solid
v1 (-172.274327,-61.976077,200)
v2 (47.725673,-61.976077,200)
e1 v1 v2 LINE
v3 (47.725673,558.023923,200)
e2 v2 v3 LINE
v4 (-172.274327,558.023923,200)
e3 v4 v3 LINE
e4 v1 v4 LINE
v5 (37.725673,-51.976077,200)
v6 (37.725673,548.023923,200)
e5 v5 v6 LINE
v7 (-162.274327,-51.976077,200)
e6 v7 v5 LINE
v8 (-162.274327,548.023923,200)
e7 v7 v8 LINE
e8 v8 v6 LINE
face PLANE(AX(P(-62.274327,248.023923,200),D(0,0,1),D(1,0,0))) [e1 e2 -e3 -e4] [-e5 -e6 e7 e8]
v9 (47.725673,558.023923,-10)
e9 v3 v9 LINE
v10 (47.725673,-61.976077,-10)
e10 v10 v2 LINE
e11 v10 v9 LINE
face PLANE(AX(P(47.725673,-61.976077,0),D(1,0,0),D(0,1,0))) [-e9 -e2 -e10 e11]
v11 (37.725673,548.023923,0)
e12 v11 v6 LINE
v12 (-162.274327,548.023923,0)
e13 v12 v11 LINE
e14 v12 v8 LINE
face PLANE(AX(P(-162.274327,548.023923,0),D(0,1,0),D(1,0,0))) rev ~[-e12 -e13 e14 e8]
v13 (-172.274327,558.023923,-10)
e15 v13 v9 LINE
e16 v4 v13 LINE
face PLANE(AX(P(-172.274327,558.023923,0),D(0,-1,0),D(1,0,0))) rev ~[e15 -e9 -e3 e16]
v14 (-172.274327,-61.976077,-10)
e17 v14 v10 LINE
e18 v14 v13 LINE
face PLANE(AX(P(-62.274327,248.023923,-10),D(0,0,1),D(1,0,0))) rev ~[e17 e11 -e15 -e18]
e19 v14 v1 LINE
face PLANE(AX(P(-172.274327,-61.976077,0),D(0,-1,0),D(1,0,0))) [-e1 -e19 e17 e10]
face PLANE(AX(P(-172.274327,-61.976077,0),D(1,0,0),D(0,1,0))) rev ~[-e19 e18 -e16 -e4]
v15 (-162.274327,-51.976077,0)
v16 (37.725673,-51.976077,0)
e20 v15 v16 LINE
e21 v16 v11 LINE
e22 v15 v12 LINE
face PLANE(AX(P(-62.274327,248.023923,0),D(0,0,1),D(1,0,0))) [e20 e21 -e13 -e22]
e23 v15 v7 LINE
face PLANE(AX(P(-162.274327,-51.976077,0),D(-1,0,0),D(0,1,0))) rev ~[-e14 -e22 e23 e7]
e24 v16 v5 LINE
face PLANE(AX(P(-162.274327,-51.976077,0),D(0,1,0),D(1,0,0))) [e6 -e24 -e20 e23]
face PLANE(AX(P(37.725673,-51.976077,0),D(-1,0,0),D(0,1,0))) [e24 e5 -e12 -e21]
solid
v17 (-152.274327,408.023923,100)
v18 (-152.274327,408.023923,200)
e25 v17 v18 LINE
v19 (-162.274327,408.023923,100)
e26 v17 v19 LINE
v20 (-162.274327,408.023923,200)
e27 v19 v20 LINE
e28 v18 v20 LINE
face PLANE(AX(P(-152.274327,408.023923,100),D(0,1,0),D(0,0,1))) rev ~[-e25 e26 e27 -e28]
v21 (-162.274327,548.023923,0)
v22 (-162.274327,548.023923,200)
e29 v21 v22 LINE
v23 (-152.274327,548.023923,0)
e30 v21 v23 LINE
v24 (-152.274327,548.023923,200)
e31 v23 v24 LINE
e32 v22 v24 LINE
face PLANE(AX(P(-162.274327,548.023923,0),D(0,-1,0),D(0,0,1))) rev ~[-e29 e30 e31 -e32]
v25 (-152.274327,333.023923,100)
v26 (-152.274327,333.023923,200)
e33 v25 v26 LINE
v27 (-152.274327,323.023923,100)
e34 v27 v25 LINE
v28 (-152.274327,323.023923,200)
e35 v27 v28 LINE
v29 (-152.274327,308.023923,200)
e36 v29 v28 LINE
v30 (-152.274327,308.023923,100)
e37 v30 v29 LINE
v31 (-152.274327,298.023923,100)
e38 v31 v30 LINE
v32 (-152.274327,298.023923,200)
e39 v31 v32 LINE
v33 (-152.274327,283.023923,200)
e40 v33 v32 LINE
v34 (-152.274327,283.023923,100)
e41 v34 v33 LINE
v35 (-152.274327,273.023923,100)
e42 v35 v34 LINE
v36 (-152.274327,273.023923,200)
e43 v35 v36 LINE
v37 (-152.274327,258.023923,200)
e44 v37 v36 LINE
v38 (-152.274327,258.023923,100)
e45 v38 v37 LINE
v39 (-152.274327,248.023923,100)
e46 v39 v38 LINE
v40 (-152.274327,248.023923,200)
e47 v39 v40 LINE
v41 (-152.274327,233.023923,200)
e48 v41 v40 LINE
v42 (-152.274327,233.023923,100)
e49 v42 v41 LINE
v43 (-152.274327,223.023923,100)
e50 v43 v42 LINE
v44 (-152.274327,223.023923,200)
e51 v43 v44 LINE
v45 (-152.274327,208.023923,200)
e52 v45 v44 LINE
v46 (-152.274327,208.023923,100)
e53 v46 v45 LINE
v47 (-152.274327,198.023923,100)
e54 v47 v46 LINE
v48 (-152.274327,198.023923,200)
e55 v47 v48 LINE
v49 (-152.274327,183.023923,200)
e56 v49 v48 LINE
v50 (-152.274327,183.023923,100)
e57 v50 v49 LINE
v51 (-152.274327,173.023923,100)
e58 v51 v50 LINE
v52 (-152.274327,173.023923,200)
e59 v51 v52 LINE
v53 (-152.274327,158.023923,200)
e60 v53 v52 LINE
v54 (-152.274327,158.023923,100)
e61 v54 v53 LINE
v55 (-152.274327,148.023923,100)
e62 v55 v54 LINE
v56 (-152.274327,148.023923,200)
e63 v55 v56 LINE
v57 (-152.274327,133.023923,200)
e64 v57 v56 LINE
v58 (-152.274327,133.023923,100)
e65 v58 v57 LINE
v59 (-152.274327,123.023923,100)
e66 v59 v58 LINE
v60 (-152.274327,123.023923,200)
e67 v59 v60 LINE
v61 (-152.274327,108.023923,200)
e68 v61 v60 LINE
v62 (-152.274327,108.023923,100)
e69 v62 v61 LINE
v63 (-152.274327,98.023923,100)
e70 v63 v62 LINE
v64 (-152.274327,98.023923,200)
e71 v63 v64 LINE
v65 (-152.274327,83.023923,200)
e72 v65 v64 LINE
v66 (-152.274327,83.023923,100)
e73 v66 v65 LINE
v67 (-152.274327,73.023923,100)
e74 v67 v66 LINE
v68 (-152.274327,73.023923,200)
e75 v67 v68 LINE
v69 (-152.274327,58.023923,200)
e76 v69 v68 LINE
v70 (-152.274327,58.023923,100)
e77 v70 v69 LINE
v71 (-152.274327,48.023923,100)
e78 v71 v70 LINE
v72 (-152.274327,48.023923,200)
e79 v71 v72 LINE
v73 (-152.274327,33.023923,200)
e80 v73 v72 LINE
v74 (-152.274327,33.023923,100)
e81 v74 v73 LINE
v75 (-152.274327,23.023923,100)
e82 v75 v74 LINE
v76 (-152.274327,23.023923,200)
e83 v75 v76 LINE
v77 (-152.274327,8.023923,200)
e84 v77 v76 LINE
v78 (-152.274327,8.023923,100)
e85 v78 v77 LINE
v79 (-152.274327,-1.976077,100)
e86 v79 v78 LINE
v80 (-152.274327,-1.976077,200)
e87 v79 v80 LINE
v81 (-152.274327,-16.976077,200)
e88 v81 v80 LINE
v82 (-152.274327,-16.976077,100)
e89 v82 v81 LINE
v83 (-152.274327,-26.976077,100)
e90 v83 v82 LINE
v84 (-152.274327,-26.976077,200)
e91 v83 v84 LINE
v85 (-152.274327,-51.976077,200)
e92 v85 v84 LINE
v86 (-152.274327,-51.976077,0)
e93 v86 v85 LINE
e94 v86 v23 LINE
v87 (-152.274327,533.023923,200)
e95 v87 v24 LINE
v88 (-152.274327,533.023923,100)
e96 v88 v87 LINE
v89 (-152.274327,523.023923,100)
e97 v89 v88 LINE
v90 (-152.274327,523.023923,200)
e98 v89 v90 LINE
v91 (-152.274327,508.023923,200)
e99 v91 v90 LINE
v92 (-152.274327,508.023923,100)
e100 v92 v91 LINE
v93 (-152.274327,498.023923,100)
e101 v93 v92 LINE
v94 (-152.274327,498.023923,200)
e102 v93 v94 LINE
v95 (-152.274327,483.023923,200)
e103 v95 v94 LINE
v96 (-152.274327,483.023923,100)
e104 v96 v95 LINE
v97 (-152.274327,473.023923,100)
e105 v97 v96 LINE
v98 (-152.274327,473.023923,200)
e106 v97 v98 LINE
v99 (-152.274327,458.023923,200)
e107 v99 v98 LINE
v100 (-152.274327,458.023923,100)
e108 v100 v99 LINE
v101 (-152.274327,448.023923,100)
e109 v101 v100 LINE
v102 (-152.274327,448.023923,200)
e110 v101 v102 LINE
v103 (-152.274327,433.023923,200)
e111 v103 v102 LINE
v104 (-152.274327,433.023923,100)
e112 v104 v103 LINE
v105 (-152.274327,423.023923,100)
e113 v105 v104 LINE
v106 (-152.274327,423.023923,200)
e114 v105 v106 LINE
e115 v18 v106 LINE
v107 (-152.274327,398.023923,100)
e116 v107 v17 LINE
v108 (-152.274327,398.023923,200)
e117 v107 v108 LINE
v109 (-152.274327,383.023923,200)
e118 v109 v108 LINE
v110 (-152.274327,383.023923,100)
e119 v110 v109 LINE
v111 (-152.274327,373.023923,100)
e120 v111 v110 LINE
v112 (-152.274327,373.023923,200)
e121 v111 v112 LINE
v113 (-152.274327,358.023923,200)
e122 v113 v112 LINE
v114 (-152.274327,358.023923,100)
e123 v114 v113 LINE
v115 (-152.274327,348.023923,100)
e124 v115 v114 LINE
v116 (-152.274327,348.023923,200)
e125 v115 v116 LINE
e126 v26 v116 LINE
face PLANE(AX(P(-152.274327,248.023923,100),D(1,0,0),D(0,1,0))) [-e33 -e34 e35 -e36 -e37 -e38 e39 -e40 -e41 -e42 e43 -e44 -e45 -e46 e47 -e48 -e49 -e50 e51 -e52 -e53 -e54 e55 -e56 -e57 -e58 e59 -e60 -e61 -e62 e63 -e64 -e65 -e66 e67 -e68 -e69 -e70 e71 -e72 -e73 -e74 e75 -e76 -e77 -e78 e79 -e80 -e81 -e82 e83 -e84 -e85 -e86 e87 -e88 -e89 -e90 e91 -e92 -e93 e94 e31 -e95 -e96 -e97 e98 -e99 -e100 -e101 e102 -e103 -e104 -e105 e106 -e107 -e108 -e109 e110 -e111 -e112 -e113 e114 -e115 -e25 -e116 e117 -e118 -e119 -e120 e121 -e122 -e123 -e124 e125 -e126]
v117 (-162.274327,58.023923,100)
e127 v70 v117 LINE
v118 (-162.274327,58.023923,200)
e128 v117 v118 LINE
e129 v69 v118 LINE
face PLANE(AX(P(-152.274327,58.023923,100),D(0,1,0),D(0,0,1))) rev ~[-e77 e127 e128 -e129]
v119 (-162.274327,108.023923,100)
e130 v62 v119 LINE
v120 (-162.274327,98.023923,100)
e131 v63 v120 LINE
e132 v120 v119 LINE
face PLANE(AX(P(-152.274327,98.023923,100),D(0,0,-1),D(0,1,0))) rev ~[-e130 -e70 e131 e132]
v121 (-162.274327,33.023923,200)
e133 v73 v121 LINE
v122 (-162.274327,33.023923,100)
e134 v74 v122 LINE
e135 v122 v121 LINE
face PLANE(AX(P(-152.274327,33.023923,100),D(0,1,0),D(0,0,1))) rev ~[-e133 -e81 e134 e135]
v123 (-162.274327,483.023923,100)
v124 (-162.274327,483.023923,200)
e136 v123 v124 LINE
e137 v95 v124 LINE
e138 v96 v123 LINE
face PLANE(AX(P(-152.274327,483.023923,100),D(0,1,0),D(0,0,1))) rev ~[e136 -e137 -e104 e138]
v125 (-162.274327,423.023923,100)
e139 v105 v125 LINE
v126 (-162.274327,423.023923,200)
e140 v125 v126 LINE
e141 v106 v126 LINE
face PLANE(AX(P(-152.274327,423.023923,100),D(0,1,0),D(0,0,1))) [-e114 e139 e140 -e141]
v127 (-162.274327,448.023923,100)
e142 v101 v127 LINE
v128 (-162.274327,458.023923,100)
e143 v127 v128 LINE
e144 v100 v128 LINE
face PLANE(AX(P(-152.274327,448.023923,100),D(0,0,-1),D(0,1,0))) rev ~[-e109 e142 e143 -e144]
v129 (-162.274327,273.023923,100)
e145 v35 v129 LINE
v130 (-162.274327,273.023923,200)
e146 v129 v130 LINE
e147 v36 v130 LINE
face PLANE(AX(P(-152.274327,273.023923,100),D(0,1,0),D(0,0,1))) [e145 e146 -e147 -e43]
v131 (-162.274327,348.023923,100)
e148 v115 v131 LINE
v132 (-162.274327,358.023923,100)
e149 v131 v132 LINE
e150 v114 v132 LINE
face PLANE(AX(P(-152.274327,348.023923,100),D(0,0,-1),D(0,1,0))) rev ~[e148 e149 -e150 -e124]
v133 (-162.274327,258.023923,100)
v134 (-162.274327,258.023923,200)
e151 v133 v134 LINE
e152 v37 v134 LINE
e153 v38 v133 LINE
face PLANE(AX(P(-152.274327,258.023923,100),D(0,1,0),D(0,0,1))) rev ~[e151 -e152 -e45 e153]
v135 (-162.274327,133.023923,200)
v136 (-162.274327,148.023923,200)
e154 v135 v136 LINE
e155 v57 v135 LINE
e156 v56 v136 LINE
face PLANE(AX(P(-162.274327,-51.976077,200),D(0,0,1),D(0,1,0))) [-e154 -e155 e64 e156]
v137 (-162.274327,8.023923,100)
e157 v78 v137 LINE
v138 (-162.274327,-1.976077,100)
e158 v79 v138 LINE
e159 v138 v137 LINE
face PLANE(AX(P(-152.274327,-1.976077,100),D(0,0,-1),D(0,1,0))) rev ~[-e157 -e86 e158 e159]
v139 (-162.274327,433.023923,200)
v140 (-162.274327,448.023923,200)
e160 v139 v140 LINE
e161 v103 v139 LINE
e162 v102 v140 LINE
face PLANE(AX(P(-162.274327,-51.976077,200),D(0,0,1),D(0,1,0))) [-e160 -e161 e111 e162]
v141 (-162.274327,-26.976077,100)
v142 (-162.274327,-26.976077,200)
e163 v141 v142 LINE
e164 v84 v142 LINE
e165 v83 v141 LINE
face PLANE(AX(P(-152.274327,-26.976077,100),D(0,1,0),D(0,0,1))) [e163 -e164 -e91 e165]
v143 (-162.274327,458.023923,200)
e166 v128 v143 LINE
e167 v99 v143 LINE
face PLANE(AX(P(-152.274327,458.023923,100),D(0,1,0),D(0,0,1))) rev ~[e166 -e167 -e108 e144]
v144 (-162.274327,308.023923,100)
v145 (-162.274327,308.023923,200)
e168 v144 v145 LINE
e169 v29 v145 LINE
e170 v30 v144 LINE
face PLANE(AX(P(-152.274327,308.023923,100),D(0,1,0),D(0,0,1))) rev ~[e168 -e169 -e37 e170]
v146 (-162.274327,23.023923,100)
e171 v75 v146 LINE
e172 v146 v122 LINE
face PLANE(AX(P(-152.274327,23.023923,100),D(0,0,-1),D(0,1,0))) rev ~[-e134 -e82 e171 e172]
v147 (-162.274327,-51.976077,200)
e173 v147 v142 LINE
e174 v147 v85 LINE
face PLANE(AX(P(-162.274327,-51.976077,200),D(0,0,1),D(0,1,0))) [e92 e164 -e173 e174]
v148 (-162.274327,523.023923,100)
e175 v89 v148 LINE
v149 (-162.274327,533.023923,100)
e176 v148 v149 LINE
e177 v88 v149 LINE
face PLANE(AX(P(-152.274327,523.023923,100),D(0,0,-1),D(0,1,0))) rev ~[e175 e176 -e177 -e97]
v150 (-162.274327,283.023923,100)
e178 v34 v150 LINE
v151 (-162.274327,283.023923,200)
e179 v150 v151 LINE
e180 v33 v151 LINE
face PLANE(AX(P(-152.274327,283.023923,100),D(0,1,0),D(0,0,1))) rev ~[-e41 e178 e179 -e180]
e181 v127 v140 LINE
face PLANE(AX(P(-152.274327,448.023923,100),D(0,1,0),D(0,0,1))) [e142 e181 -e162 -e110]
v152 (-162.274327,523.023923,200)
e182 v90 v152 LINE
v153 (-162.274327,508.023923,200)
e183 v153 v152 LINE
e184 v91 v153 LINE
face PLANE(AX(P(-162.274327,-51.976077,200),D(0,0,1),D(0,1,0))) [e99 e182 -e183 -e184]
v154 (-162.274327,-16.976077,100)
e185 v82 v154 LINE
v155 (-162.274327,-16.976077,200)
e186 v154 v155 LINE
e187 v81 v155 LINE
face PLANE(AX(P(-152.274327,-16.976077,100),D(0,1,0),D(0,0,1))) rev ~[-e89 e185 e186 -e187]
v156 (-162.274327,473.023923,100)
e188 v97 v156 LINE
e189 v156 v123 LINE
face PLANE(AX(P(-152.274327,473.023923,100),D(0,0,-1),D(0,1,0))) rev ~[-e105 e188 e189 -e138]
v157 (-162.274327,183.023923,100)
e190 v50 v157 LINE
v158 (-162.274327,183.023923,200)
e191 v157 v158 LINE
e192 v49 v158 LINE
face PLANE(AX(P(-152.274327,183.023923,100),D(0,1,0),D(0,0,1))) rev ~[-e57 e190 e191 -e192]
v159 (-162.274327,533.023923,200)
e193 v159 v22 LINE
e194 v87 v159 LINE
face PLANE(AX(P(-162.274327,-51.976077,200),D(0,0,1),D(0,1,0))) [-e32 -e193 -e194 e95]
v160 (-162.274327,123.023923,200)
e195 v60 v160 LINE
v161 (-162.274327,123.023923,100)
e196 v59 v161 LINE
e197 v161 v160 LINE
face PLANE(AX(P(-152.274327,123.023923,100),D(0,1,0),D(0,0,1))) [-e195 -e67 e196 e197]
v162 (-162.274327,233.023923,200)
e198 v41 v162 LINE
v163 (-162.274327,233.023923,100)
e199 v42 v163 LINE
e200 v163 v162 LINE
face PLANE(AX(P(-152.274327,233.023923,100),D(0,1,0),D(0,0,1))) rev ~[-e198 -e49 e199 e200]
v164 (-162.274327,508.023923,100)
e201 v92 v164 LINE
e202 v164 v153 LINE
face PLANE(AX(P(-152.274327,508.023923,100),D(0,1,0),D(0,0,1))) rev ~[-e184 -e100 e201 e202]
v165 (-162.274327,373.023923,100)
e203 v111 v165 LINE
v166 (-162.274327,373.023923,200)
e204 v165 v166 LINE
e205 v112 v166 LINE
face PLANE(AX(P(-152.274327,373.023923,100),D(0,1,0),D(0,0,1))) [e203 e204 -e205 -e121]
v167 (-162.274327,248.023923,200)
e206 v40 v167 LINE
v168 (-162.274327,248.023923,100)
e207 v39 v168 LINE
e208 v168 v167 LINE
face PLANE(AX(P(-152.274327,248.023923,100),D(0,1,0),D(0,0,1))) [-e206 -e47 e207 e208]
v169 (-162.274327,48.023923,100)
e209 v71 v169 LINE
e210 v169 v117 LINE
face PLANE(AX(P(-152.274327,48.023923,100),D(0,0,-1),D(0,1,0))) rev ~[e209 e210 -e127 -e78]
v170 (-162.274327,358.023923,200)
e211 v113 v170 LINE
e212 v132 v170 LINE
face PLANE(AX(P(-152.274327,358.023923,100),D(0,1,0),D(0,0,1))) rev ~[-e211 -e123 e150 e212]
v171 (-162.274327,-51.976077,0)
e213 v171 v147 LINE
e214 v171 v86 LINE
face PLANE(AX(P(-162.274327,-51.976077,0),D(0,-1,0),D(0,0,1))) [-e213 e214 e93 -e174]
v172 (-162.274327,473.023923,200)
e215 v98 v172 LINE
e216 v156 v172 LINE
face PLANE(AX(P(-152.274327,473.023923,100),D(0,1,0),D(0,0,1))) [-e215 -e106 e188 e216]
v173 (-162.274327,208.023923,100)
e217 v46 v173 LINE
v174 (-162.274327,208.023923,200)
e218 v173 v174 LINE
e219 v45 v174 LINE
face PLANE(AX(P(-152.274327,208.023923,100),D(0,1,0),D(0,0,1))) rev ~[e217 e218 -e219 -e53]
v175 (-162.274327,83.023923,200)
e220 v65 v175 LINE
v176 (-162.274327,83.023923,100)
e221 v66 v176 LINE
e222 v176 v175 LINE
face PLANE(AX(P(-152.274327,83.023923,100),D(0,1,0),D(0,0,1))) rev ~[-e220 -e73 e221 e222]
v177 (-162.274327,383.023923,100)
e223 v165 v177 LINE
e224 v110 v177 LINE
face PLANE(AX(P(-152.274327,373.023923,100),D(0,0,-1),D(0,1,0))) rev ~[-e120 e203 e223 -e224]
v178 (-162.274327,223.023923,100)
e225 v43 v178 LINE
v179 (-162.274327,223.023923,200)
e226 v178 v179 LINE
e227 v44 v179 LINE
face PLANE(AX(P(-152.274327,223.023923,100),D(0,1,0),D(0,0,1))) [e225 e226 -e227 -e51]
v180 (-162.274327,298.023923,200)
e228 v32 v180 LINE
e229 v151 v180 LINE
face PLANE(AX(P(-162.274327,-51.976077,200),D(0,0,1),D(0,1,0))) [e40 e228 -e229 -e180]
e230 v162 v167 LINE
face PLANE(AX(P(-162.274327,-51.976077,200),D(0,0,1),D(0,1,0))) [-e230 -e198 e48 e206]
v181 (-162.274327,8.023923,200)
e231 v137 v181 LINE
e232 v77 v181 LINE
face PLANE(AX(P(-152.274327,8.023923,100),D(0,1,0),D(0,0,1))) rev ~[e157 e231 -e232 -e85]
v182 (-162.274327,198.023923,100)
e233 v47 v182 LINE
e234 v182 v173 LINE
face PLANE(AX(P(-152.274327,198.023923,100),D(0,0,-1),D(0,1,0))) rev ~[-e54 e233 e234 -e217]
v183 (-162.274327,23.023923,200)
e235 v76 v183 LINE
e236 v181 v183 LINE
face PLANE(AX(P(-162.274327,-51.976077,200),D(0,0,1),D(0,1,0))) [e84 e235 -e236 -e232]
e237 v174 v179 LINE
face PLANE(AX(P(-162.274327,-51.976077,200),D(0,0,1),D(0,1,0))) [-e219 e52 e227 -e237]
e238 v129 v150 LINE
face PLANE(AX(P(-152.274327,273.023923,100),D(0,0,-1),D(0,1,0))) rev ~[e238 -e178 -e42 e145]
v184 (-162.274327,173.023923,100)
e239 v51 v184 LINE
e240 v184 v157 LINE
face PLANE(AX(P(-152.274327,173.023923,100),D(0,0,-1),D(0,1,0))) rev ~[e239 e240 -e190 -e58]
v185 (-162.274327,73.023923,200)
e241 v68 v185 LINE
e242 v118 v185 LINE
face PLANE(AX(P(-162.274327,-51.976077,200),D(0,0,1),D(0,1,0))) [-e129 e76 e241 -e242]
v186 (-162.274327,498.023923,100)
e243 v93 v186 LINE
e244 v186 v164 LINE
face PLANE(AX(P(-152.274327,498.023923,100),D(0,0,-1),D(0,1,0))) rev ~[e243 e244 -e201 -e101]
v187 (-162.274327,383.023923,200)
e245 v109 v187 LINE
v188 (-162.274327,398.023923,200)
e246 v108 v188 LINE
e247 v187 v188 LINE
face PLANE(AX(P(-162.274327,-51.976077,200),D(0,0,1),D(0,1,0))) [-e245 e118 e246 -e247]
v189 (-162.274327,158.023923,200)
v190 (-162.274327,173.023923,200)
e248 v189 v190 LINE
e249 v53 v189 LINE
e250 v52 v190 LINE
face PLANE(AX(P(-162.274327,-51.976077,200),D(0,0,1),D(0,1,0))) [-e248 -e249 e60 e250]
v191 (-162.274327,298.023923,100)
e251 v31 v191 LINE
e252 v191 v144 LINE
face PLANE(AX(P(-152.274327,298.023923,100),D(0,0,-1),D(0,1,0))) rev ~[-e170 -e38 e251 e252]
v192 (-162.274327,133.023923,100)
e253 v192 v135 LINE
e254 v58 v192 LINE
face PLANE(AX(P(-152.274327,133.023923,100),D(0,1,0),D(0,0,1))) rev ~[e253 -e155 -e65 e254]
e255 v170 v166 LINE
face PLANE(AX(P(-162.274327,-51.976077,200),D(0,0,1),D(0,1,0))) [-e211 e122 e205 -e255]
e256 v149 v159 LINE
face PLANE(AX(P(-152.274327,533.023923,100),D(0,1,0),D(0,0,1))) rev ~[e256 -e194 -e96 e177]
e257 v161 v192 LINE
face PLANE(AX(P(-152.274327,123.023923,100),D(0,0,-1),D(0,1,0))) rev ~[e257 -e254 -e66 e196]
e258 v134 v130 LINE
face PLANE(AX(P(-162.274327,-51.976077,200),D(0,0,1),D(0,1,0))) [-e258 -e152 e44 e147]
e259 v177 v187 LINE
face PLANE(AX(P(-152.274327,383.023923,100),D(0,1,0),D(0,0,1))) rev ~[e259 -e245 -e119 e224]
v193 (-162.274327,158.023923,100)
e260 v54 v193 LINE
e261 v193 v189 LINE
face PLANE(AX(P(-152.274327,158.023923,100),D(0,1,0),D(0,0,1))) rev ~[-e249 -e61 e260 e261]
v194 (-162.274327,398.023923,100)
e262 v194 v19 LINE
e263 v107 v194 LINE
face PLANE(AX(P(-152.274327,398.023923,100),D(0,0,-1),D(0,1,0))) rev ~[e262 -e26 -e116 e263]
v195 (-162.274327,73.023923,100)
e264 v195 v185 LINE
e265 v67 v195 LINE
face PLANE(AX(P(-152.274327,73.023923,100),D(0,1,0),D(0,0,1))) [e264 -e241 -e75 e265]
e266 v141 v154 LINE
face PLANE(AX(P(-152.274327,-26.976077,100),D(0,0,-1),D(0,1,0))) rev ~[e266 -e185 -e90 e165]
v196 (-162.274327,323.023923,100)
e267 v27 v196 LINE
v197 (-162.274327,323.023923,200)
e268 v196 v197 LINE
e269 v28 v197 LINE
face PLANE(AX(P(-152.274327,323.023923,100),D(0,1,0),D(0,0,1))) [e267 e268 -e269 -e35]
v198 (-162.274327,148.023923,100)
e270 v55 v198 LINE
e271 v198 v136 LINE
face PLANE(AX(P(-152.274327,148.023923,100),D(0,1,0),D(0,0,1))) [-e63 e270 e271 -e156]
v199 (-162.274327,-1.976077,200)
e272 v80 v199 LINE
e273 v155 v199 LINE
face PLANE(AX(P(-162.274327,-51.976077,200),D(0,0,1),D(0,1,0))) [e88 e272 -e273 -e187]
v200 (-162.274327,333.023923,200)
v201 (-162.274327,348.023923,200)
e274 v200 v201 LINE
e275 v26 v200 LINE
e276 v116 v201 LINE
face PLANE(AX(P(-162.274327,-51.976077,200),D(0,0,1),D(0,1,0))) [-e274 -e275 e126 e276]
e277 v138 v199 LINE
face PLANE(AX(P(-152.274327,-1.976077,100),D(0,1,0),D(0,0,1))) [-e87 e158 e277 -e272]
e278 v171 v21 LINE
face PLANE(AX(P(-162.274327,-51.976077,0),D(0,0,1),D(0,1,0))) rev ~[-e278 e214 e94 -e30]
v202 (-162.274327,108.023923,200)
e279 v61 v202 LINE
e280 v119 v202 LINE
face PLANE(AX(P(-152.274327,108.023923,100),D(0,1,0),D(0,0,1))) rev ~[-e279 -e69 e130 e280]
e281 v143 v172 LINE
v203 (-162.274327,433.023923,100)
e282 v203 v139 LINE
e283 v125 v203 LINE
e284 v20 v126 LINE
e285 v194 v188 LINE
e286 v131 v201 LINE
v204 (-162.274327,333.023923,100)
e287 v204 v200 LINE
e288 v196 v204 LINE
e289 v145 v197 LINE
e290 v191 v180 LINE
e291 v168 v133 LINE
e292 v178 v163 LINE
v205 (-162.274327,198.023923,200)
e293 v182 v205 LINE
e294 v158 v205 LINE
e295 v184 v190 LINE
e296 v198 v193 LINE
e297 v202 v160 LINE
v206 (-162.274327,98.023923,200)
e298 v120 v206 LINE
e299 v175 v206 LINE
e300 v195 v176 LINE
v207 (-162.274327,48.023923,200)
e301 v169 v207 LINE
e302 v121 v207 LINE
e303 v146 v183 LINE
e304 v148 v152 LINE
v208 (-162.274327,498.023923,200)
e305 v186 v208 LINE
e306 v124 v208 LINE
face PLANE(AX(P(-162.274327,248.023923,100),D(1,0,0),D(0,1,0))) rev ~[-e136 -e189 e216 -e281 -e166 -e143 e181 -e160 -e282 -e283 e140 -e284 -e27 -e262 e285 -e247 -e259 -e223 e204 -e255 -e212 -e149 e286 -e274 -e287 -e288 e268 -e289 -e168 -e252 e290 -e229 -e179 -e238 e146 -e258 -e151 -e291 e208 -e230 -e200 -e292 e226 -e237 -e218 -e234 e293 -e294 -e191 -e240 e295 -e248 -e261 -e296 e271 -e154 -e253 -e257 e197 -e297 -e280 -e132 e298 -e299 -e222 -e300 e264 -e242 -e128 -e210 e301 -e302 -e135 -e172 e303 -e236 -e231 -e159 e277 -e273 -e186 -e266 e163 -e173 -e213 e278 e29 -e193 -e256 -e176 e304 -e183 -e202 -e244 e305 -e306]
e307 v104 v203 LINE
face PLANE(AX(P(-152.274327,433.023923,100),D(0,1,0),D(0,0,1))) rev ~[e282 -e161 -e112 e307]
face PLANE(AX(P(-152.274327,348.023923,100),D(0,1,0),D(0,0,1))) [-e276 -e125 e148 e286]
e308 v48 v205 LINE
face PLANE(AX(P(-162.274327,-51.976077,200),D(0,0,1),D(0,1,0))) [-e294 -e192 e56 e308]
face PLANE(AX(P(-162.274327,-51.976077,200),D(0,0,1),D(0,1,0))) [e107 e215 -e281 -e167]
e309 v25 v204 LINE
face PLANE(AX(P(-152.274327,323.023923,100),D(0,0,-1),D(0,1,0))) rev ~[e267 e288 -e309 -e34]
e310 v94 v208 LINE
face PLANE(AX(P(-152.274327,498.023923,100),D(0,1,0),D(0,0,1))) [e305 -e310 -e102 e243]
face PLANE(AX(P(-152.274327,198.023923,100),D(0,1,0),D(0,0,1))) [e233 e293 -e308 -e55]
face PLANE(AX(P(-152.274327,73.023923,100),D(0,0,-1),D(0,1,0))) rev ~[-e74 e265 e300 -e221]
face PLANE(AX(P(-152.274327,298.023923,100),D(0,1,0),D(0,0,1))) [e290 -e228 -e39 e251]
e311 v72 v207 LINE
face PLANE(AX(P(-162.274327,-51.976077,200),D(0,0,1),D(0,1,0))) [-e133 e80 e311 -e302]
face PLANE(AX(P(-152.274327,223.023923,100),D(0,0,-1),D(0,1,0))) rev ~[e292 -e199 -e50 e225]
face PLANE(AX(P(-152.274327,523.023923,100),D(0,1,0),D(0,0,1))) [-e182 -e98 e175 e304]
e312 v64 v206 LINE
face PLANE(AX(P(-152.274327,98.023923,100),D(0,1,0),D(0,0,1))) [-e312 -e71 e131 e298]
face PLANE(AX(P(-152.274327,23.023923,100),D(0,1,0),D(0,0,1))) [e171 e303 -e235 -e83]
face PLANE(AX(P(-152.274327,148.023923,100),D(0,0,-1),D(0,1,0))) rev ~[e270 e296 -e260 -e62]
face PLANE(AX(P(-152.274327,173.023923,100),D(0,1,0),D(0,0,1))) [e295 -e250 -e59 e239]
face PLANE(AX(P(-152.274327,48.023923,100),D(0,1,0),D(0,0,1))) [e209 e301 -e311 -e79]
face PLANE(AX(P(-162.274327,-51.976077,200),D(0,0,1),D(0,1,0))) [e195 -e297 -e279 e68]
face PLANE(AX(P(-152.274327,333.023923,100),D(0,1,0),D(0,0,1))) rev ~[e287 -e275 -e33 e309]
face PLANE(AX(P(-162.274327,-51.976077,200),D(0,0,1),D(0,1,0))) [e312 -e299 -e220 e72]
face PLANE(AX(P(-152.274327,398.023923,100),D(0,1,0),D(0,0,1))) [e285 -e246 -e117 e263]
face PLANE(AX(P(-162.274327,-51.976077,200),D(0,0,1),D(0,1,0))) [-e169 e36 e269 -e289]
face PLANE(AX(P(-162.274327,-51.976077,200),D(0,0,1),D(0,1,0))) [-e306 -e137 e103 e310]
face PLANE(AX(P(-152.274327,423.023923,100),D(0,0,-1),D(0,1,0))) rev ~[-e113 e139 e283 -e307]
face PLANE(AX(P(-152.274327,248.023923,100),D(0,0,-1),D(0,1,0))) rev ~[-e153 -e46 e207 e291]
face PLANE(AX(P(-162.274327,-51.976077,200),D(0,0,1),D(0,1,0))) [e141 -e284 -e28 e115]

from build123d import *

# Parameters (mm, degrees)
F0_W     = 220
F0_H     = 620
F0_W_2   = 200
F0_H_2   = 600
F1_DEPTH = 200
F2_DEPTH = 10
F3_W     = 600
F3_H     = 200
F4_DEPTH = 10
F5_W     = 10
F5_H     = 100
F6_DEPTH = 10


with BuildPart() as f1:
    # F0 (on Top) → F1 (new body)
    with BuildSketch(Plane.XY):
        with Locations((-62.2743272781, 248.0239227414)):
            Rectangle(F0_W, F0_H)
        with Locations((-62.2743272781, 248.0239227414)):
            Rectangle(F0_W_2, F0_H_2, mode=Mode.SUBTRACT)
    extrude(amount=F1_DEPTH)

    # F0 (on Top) → F2 (join)
    with BuildSketch(Plane.XY):
        with Locations((-62.2743272781, 248.0239227414)):
            Rectangle(F0_W, F0_H)
        with Locations((-62.2743272781, 248.0239227414)):
            Rectangle(F0_W_2, F0_H_2, mode=Mode.SUBTRACT)
        with Locations((-62.2743272781, 248.0239227414)):
            Rectangle(F0_W_2, F0_H_2)
    extrude(amount=-F2_DEPTH)


with BuildPart() as f4:
    # F3 (on face) → F4 (new body)
    with BuildSketch(Plane.YZ.offset(-162.2743272781)):
        with Locations((248.0239227414, 100)):
            Rectangle(F3_W, F3_H)
    extrude(amount=F4_DEPTH)

    # F5 (on face) → F6 (cut, through all)
    with BuildSketch(Plane.YZ.offset(-152.2743272781)):
        with Locations((-21.9760772586, 150)):
            Rectangle(F5_W, F5_H)
        with Locations((3.0239227414, 150)):
            Rectangle(F5_W, F5_H)
        with Locations((28.0239227414, 150)):
            Rectangle(F5_W, F5_H)
        with Locations((53.0239227414, 150)):
            Rectangle(F5_W, F5_H)
        with Locations((78.0239227414, 150)):
            Rectangle(F5_W, F5_H)
        with Locations((103.0239227414, 150)):
            Rectangle(F5_W, F5_H)
        with Locations((128.0239227414, 150)):
            Rectangle(F5_W, F5_H)
        with Locations((153.0239227414, 150)):
            Rectangle(F5_W, F5_H)
        with Locations((178.0239227414, 150)):
            Rectangle(F5_W, F5_H)
        with Locations((203.0239227414, 150)):
            Rectangle(F5_W, F5_H)
        with Locations((228.0239227414, 150)):
            Rectangle(F5_W, F5_H)
        with Locations((253.0239227414, 150)):
            Rectangle(F5_W, F5_H)
        with Locations((278.0239227414, 150)):
            Rectangle(F5_W, F5_H)
        with Locations((303.0239227414, 150)):
            Rectangle(F5_W, F5_H)
        with Locations((328.0239227414, 150)):
            Rectangle(F5_W, F5_H)
        with Locations((353.0239227414, 150)):
            Rectangle(F5_W, F5_H)
        with Locations((378.0239227414, 150)):
            Rectangle(F5_W, F5_H)
        with Locations((403.0239227414, 150)):
            Rectangle(F5_W, F5_H)
        with Locations((428.0239227414, 150)):
            Rectangle(F5_W, F5_H)
        with Locations((453.0239227414, 150)):
            Rectangle(F5_W, F5_H)
        with Locations((478.0239227414, 150)):
            Rectangle(F5_W, F5_H)
        with Locations((503.0239227414, 150)):
            Rectangle(F5_W, F5_H)
        with Locations((528.0239227414, 150)):
            Rectangle(F5_W, F5_H)
    extrude(amount=-F6_DEPTH, mode=Mode.SUBTRACT)


solid = Compound([f1.part, f4.part])
